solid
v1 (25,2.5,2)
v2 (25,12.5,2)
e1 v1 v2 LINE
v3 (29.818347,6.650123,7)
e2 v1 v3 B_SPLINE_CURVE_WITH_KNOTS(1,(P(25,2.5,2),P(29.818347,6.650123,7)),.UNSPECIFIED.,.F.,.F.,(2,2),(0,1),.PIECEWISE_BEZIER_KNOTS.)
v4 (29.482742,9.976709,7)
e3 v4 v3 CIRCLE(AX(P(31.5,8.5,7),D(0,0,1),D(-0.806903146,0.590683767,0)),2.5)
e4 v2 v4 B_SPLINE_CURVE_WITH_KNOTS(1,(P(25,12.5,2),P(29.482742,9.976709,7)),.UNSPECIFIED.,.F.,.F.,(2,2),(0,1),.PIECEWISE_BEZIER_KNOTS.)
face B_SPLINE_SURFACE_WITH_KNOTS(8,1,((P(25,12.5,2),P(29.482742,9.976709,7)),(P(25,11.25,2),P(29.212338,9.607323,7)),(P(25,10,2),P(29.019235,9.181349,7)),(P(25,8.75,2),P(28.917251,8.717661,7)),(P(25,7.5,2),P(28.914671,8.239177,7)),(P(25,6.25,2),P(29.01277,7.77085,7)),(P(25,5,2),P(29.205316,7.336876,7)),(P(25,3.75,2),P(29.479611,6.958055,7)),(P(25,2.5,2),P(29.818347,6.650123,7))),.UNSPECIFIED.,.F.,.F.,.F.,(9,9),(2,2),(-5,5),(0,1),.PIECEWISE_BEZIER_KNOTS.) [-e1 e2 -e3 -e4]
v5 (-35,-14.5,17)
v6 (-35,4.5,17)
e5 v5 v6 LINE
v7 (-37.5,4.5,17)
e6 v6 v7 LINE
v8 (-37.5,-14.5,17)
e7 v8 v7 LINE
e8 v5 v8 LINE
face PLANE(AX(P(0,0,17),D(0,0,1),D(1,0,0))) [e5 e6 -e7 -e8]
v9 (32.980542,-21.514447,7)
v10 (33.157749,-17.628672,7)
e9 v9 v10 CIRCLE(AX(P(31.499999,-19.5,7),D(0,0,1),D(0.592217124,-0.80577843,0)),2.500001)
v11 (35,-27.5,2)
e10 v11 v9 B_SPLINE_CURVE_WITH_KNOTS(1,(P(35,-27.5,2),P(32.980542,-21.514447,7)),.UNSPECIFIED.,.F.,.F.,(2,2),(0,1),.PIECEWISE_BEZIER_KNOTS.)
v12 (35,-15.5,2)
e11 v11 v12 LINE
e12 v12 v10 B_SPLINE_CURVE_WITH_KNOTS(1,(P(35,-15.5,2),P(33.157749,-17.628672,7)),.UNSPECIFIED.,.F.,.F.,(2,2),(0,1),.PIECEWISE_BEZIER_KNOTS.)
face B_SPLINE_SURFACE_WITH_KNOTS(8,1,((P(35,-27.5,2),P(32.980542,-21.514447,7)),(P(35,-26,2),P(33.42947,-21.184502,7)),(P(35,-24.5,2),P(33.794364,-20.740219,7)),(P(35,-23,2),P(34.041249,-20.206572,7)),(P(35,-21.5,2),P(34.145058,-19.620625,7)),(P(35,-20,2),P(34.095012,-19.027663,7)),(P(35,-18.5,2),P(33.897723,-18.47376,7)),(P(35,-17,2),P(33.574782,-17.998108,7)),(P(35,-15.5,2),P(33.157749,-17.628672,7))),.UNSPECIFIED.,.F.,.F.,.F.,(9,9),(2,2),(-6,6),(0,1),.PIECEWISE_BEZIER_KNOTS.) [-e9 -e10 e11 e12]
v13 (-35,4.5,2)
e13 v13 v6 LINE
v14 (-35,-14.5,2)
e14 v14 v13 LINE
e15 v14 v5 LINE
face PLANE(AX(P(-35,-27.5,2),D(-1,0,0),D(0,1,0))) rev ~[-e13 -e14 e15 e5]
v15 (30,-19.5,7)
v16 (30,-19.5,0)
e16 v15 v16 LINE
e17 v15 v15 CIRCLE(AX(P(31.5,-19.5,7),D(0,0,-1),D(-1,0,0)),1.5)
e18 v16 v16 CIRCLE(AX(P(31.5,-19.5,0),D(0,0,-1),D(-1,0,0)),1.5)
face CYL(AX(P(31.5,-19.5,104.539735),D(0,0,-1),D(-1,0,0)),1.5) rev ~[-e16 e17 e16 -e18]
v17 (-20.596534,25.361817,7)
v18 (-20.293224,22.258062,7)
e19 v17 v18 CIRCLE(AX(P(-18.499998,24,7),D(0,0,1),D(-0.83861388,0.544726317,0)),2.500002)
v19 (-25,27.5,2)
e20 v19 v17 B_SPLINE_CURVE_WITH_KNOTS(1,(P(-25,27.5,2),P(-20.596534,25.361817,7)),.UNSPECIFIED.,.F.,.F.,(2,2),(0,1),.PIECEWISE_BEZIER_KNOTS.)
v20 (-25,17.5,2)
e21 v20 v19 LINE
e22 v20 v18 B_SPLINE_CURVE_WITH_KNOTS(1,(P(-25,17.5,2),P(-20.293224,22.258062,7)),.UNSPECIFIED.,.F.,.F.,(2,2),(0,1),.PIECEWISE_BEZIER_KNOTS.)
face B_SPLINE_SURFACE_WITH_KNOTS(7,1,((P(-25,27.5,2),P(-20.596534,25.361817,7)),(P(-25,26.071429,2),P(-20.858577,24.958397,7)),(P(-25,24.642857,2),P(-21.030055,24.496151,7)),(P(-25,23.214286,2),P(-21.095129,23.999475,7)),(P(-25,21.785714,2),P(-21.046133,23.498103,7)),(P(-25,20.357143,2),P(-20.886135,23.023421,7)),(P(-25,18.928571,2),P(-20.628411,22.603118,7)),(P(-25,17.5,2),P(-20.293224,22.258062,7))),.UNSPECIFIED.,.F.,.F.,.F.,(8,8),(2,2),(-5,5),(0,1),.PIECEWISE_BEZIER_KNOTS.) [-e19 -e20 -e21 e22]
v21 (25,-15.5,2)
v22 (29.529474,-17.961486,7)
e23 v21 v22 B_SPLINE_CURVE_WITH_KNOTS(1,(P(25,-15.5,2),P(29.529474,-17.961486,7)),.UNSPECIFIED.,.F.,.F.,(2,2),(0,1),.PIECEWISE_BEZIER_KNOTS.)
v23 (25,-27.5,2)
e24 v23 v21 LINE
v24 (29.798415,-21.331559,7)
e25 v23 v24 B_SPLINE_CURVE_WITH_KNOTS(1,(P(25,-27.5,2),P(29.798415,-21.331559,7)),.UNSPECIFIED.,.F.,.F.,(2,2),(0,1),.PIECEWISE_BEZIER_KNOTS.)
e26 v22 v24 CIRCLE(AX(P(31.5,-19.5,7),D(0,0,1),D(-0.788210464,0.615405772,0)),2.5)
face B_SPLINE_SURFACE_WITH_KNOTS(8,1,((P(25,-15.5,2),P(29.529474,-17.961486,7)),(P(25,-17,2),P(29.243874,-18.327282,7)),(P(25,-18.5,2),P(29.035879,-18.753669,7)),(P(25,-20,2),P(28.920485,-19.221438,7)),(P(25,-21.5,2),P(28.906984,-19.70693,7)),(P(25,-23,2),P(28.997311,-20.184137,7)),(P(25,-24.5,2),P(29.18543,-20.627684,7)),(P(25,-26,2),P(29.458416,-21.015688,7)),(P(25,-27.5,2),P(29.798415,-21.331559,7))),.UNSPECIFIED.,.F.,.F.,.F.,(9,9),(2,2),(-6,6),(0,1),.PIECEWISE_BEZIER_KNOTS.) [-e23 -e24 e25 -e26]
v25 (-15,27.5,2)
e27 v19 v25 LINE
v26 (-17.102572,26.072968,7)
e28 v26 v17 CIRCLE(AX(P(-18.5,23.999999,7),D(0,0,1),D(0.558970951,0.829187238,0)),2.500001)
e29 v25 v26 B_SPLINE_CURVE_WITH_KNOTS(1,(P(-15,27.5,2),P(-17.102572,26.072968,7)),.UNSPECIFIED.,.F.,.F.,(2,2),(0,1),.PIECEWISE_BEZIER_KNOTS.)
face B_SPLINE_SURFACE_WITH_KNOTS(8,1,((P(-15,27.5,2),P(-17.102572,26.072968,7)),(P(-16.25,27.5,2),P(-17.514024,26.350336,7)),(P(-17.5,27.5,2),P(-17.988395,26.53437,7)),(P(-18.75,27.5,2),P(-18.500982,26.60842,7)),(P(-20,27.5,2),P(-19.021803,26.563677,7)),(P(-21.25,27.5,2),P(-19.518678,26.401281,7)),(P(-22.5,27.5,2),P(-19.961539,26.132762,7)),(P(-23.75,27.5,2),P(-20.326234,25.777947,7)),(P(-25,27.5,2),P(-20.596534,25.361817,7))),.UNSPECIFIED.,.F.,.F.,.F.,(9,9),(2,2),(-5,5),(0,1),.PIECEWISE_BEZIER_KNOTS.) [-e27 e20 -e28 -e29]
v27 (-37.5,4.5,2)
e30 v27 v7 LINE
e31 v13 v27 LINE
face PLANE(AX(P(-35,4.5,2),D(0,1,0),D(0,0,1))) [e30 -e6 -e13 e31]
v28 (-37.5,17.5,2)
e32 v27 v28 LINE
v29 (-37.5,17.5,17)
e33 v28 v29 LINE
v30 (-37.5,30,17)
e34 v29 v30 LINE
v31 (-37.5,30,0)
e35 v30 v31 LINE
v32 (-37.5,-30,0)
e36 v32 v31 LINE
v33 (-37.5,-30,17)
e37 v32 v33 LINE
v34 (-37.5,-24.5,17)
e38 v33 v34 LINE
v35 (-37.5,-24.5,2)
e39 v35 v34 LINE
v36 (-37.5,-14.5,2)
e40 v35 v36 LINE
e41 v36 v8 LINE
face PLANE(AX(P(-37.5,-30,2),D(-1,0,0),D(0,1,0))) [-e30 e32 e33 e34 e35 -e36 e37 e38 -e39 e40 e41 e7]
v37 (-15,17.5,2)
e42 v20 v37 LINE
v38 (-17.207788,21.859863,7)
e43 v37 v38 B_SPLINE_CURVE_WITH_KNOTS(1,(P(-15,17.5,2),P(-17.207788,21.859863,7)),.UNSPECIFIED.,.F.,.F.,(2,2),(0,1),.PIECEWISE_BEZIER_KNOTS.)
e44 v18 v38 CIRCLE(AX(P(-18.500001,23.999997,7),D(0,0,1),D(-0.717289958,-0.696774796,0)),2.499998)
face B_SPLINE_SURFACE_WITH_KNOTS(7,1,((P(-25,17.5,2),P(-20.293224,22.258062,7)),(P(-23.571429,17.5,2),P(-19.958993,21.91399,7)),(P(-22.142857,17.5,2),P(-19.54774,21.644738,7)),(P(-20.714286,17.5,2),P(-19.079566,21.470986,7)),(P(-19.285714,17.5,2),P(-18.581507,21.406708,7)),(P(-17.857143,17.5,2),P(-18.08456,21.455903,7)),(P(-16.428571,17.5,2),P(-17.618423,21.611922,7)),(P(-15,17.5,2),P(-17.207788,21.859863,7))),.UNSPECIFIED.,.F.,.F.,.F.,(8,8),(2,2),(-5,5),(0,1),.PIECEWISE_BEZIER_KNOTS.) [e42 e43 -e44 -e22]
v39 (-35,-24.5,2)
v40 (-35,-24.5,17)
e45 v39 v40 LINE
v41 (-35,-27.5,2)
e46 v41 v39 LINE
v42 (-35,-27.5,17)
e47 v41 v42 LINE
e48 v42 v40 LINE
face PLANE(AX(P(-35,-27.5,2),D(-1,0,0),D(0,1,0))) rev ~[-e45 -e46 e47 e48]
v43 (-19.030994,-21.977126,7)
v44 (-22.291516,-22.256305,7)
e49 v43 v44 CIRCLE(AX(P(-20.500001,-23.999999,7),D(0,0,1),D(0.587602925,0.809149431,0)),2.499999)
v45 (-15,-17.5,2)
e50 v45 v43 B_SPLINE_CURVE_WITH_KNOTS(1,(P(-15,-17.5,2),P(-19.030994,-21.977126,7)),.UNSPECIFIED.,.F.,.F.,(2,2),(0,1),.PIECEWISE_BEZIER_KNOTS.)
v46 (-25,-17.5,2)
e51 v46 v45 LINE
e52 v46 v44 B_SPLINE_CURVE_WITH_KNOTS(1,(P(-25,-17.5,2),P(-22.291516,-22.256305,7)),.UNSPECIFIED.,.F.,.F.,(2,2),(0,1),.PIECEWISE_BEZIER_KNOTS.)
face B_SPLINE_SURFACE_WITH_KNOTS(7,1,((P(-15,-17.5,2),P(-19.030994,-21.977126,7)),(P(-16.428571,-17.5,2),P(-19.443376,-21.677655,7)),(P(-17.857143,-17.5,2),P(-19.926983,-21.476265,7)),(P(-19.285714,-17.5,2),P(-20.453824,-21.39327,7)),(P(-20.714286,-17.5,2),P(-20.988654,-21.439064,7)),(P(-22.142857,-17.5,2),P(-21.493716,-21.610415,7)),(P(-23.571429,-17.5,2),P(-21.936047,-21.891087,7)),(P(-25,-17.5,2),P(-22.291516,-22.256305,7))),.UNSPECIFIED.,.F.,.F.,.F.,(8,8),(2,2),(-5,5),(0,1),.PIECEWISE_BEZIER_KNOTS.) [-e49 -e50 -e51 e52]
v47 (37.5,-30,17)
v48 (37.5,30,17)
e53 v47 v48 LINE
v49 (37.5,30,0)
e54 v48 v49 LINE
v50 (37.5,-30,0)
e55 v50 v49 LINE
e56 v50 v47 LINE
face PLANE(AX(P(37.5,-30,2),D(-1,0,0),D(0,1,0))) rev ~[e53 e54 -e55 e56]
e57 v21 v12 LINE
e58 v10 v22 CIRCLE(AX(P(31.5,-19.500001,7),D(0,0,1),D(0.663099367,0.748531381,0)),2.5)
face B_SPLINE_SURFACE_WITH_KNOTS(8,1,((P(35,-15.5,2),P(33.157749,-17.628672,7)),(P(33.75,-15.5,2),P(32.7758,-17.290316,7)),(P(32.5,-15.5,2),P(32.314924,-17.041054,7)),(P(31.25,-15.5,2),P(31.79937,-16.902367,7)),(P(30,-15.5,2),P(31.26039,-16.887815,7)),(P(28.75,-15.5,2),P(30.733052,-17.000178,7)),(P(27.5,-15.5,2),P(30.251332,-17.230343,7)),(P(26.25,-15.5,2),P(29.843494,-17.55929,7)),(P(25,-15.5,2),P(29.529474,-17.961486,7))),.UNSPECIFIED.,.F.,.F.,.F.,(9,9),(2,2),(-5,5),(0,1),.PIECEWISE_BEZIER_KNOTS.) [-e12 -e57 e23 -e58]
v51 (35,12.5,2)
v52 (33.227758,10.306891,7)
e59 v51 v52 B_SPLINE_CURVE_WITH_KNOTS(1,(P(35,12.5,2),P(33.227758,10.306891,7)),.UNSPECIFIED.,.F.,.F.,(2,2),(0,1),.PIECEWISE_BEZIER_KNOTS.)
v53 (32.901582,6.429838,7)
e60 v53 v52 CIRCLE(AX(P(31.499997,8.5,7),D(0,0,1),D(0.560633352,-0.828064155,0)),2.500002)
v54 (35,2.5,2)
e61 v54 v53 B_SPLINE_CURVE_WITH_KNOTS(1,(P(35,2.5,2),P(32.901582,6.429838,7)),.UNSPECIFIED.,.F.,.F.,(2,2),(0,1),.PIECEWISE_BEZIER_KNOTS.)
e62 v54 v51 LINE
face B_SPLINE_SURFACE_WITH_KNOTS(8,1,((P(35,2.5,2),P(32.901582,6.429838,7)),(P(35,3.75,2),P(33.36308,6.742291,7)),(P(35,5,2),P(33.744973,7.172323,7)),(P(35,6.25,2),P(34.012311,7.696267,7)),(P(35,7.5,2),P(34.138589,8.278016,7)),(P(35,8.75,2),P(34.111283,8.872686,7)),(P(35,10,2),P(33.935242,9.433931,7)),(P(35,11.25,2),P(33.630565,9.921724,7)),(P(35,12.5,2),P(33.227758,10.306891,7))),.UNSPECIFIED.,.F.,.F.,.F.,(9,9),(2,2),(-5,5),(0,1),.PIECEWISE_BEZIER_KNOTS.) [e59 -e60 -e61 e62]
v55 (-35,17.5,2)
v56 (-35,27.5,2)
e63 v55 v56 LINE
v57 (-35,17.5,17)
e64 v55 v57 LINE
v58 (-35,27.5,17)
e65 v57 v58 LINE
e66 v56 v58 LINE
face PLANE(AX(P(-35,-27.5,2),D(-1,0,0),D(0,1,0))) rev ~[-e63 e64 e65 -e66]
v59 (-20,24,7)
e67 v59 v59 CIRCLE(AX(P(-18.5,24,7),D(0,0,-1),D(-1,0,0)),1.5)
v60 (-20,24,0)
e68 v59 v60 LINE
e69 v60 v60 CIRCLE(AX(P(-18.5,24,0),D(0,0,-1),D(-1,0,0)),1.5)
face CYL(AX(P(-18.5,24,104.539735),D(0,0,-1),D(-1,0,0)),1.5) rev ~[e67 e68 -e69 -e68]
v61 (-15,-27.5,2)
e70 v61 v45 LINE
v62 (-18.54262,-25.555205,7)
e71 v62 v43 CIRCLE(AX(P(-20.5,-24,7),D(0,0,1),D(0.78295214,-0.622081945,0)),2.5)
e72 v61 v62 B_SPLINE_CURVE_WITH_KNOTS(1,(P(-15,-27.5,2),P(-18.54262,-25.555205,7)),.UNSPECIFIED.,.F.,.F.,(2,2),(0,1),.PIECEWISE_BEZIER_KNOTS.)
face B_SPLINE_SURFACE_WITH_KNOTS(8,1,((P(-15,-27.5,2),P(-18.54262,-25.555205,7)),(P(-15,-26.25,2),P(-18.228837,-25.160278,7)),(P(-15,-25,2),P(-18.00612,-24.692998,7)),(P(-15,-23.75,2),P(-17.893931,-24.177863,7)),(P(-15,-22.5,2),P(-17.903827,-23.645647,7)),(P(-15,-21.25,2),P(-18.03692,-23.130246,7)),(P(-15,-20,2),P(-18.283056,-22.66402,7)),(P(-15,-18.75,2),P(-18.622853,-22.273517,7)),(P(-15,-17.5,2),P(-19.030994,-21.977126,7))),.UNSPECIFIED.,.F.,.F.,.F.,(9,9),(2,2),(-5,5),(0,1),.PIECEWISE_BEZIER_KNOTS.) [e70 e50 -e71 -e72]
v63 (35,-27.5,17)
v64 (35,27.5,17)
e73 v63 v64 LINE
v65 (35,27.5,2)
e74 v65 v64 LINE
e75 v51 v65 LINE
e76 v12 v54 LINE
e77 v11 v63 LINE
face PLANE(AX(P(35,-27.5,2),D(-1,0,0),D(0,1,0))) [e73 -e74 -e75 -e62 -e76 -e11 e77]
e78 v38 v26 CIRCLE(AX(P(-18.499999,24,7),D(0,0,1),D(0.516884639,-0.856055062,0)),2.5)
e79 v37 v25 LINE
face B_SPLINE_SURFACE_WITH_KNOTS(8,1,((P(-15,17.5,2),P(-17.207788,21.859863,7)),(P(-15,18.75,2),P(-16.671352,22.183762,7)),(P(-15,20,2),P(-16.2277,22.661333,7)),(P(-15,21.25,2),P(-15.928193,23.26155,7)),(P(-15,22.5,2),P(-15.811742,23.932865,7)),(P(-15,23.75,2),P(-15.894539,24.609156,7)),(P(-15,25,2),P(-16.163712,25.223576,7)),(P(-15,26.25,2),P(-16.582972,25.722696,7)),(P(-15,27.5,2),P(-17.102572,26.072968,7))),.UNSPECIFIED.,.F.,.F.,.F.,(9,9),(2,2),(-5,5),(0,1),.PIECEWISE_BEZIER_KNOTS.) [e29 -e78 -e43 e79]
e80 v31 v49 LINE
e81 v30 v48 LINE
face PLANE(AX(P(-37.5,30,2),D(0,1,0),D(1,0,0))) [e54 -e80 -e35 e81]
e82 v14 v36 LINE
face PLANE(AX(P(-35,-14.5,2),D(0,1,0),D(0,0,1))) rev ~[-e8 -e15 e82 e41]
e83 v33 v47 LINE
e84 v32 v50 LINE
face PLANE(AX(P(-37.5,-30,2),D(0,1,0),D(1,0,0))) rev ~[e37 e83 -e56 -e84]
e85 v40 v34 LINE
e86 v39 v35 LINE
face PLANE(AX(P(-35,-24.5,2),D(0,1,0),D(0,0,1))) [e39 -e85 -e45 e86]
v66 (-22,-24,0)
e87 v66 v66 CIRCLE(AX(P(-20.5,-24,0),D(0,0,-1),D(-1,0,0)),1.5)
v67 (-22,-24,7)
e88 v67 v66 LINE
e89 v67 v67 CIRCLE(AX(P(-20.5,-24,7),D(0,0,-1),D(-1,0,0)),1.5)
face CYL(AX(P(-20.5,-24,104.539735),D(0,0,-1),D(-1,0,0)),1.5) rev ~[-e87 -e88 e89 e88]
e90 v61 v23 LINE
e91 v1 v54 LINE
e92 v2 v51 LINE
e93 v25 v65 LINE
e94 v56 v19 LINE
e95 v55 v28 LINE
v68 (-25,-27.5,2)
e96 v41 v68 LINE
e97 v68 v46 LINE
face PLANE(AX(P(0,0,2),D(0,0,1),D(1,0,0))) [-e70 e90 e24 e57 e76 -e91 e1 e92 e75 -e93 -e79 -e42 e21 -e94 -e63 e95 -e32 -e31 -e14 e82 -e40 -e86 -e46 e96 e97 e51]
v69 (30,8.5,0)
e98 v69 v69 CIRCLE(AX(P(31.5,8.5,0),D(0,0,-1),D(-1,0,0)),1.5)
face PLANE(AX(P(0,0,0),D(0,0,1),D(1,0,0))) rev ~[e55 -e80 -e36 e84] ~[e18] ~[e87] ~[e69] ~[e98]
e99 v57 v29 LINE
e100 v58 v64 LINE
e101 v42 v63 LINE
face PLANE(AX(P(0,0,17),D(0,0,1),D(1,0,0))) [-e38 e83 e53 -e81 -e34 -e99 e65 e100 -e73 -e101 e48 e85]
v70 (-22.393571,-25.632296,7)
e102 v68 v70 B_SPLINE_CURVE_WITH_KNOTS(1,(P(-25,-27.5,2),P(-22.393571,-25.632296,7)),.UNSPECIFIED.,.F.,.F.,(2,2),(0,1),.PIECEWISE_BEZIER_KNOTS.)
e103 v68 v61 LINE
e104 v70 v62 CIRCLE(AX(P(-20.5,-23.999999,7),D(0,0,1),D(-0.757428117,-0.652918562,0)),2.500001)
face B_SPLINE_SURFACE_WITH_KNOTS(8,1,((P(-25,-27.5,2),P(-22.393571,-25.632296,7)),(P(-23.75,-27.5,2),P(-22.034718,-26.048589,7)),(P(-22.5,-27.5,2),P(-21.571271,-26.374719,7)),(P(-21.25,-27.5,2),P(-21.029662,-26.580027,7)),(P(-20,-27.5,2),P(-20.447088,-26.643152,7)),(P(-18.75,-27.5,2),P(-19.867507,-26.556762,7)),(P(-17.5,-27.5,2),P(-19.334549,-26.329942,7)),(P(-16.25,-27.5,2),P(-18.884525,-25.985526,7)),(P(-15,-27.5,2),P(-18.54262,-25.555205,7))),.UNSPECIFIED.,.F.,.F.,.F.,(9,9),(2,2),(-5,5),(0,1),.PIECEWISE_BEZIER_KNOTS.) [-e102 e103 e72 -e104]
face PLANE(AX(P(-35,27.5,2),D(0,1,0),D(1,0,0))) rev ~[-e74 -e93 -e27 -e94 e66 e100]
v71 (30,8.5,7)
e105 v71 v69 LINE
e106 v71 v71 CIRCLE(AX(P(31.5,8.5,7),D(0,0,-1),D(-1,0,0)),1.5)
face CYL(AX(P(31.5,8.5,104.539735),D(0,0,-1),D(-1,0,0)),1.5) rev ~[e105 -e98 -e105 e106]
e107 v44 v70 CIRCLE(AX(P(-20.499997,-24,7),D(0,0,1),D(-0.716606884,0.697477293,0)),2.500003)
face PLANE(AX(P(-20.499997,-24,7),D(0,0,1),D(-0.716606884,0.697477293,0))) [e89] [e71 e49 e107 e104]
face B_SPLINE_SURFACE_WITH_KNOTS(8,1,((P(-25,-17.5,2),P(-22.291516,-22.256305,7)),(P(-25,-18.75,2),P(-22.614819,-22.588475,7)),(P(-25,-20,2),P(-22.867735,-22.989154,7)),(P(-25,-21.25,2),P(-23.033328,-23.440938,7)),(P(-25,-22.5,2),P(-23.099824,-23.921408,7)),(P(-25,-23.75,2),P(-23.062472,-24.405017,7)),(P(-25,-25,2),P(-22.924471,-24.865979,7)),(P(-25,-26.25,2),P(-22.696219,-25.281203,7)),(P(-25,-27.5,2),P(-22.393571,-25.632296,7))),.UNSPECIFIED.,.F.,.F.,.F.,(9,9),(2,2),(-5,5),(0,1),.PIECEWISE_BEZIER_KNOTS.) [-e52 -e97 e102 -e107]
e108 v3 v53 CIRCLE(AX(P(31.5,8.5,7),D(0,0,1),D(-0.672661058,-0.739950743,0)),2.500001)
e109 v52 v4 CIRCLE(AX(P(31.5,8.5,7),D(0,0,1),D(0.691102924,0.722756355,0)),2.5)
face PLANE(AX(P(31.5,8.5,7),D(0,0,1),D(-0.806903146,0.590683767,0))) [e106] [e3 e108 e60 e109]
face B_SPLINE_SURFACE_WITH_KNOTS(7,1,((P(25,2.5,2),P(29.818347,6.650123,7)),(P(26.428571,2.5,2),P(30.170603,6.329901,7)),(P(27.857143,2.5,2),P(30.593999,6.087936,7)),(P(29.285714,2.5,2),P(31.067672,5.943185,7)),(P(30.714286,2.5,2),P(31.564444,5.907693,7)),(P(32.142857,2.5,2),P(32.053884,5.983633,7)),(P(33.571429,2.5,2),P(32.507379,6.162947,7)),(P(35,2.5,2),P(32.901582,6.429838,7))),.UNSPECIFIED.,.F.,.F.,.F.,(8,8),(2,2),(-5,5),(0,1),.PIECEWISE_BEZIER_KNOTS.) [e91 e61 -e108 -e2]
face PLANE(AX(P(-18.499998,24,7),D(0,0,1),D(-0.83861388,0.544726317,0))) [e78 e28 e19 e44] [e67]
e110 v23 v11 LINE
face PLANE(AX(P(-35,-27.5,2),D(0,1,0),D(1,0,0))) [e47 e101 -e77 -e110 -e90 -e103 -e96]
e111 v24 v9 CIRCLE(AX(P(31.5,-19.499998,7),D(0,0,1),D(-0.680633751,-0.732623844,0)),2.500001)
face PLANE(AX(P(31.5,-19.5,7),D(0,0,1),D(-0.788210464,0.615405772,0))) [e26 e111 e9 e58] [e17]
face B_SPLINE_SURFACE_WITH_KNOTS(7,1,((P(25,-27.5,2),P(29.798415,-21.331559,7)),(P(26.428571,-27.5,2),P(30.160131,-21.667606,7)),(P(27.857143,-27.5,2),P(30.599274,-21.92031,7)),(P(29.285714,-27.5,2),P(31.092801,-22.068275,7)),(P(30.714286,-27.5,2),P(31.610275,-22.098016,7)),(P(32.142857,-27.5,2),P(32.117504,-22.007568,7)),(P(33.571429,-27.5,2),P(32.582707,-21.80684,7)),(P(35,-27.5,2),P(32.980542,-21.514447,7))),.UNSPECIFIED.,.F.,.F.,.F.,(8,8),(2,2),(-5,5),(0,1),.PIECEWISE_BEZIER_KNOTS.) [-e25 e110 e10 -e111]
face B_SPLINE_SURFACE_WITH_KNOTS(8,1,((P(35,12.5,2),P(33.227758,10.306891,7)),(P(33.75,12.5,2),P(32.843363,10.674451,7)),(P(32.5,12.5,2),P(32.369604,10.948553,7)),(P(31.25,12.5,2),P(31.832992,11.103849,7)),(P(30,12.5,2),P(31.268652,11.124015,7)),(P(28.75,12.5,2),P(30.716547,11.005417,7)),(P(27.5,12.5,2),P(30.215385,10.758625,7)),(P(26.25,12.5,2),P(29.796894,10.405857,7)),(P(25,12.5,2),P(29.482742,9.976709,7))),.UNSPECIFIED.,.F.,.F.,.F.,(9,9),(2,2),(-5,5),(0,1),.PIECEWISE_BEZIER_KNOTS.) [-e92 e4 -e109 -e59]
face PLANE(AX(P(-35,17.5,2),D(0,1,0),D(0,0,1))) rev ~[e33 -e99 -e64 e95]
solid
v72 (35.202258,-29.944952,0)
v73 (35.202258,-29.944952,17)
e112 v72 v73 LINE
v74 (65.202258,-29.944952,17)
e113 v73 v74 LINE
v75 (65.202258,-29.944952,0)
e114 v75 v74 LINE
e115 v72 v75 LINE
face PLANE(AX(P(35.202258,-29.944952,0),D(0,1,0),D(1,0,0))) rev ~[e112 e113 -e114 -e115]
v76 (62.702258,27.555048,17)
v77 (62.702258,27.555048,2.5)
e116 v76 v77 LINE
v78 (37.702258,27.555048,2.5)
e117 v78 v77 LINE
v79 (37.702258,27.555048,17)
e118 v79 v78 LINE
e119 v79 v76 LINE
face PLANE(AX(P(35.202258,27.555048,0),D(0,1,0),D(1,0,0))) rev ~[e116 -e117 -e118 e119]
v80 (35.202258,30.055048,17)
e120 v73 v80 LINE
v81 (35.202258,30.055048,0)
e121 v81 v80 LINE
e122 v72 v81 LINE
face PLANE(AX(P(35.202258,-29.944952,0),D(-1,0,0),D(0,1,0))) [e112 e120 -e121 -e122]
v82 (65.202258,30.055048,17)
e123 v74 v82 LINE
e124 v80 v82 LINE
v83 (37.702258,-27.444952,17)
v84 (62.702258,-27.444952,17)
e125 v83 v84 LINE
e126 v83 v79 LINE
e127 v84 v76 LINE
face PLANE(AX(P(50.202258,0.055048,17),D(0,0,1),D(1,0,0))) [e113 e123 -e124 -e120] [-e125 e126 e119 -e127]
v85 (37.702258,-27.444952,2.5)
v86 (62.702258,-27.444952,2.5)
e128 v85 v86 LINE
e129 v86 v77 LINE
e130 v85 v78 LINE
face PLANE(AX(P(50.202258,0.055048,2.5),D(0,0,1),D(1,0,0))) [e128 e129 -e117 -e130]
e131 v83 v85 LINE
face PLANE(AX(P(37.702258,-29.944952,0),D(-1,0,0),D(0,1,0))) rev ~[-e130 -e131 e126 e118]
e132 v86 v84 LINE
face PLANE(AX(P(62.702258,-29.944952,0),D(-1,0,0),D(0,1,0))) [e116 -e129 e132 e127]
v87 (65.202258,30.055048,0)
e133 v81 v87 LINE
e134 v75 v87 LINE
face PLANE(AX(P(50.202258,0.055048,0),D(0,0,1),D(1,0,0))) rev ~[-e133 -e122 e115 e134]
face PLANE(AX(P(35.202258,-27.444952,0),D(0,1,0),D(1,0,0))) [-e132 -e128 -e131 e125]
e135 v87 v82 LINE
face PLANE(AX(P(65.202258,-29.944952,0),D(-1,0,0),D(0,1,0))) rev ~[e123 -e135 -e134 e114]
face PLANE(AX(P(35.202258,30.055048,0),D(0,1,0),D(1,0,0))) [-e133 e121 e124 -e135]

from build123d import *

# Parameters (mm, degrees)
F0_W      = 75
F0_H      = 60
F1_DEPTH  = 2
F2_W      = 75
F2_H      = 60
F2_W_2    = 70
F2_H_2    = 55
F3_DEPTH  = 15
F4_W      = 10
F4_H      = 10
F4_H_2    = 12
F11_D     = 3
F12_W     = 10
F12_H     = 15
F12_W_2   = 13
F13_DEPTH = 2.5
F14_W     = 30
F14_H     = 60
F15_DEPTH = 17
F16_T     = -2.5


with BuildPart() as f1:
    # F0 (on Top) → F1 (new body)
    with BuildSketch(Plane.XY):
        Rectangle(F0_W, F0_H)
    extrude(amount=F1_DEPTH)

    # F2 (on face) → F3 (join)
    with BuildSketch(Plane.XY.offset(2)):
        Rectangle(F2_W, F2_H)
        Rectangle(F2_W_2, F2_H_2, mode=Mode.SUBTRACT)
    extrude(amount=F3_DEPTH)

    # F4 (on face) → F7 section 0
    with BuildSketch(Plane.XY.offset(2)):
        with Locations((-20, 22.5)):
            Rectangle(F4_W, F4_H)
    # F6 (on offset) → F7 section 1
    with BuildSketch(Plane.XY.offset(7)):
        with BuildLine():
            ThreePointArc((-20.293224, 22.258062), (-18.819991, 21.520563), (-17.207788, 21.859863))
            ThreePointArc((-17.207788, 21.859863), (-16.000779, 23.937586), (-17.102572, 26.072968))
            ThreePointArc((-17.102572, 26.072968), (-18.99862, 26.449771), (-20.596534, 25.361817))
            ThreePointArc((-20.596534, 25.361817), (-20.988147, 23.756849), (-20.293224, 22.258062))
        make_face()
    loft()

    # F4 (on face) → F8 section 0
    with BuildSketch(Plane.XY.offset(2)):
        with Locations((30, 7.5)):
            Rectangle(F4_W, F4_H)
    # F6 (on offset) → F8 section 1
    with BuildSketch(Plane.XY.offset(7)):
        with BuildLine():
            ThreePointArc((29.818347, 6.650123), (31.321839, 6.006356), (32.901582, 6.429838))
            ThreePointArc((32.901582, 6.429838), (33.991199, 8.290416), (33.227758, 10.306891))
            ThreePointArc((33.227758, 10.306891), (31.280438, 10.99034), (29.482742, 9.976709))
            ThreePointArc((29.482742, 9.976709), (29.012626, 8.249059), (29.818347, 6.650123))
        make_face()
    loft()

    # F4 (on face) → F9 section 0
    with BuildSketch(Plane.XY.offset(2)):
        with Locations((30, -21.5)):
            Rectangle(F4_W, F4_H_2)
    # F6 (on offset) → F9 section 1
    with BuildSketch(Plane.XY.offset(7)):
        with BuildLine():
            ThreePointArc((29.529474, -17.961486), (29.007923, -19.698875), (29.798415, -21.331559))
            ThreePointArc((29.798415, -21.331559), (31.356554, -21.995881), (32.980542, -21.514447))
            ThreePointArc((32.980542, -21.514447), (33.997404, -19.613892), (33.157749, -17.628672))
            ThreePointArc((33.157749, -17.628672), (31.271639, -17.010452), (29.529474, -17.961486))
        make_face()
    loft()

    # F4 (on face) → F10 section 0
    with BuildSketch(Plane.XY.offset(2)):
        with Locations((-20, -22.5)):
            Rectangle(F4_W, F4_H)
    # F6 (on offset) → F10 section 1
    with BuildSketch(Plane.XY.offset(7)):
        with BuildLine():
            ThreePointArc((-19.030994, -21.977126), (-20.71328, -21.509114), (-22.291516, -22.256305))
            ThreePointArc((-22.291516, -22.256305), (-22.998858, -23.92446), (-22.393571, -25.632296))
            ThreePointArc((-22.393571, -25.632296), (-20.449964, -26.499499), (-18.54262, -25.555205))
            ThreePointArc((-18.54262, -25.555205), (-18.022967, -23.661909), (-19.030994, -21.977126))
        make_face()
    loft()

    # F11 (through all)
    with Locations(Plane.XY.offset(7)):
        with Locations((-18.5, 24), (31.5, 8.5), (31.5, -19.5), (-20.5, -24)):
            Hole(F11_D / 2)

    # F12 (on face) → F13 (cut, through all)
    with BuildSketch(Plane.YZ.offset(-35)):
        with Locations((-19.5, 9.5)):
            Rectangle(F12_W, F12_H)
        with Locations((11, 9.5)):
            Rectangle(F12_W_2, F12_H)
    extrude(amount=-F13_DEPTH, mode=Mode.SUBTRACT)


with BuildPart() as f15:
    # F14 (on Top) → F15 (new body)
    with BuildSketch(Plane.XY):
        with Locations((50.202258, 0.055048)):
            Rectangle(F14_W, F14_H)
    extrude(amount=F15_DEPTH)

    # F16
    f16_openings = [f15.faces().sort_by_distance(p)[0] for p in [
        (50.202258, 0.055048, 17),
    ]]
    offset(amount=F16_T, openings=f16_openings)


solid = Compound([f1.part, f15.part])
